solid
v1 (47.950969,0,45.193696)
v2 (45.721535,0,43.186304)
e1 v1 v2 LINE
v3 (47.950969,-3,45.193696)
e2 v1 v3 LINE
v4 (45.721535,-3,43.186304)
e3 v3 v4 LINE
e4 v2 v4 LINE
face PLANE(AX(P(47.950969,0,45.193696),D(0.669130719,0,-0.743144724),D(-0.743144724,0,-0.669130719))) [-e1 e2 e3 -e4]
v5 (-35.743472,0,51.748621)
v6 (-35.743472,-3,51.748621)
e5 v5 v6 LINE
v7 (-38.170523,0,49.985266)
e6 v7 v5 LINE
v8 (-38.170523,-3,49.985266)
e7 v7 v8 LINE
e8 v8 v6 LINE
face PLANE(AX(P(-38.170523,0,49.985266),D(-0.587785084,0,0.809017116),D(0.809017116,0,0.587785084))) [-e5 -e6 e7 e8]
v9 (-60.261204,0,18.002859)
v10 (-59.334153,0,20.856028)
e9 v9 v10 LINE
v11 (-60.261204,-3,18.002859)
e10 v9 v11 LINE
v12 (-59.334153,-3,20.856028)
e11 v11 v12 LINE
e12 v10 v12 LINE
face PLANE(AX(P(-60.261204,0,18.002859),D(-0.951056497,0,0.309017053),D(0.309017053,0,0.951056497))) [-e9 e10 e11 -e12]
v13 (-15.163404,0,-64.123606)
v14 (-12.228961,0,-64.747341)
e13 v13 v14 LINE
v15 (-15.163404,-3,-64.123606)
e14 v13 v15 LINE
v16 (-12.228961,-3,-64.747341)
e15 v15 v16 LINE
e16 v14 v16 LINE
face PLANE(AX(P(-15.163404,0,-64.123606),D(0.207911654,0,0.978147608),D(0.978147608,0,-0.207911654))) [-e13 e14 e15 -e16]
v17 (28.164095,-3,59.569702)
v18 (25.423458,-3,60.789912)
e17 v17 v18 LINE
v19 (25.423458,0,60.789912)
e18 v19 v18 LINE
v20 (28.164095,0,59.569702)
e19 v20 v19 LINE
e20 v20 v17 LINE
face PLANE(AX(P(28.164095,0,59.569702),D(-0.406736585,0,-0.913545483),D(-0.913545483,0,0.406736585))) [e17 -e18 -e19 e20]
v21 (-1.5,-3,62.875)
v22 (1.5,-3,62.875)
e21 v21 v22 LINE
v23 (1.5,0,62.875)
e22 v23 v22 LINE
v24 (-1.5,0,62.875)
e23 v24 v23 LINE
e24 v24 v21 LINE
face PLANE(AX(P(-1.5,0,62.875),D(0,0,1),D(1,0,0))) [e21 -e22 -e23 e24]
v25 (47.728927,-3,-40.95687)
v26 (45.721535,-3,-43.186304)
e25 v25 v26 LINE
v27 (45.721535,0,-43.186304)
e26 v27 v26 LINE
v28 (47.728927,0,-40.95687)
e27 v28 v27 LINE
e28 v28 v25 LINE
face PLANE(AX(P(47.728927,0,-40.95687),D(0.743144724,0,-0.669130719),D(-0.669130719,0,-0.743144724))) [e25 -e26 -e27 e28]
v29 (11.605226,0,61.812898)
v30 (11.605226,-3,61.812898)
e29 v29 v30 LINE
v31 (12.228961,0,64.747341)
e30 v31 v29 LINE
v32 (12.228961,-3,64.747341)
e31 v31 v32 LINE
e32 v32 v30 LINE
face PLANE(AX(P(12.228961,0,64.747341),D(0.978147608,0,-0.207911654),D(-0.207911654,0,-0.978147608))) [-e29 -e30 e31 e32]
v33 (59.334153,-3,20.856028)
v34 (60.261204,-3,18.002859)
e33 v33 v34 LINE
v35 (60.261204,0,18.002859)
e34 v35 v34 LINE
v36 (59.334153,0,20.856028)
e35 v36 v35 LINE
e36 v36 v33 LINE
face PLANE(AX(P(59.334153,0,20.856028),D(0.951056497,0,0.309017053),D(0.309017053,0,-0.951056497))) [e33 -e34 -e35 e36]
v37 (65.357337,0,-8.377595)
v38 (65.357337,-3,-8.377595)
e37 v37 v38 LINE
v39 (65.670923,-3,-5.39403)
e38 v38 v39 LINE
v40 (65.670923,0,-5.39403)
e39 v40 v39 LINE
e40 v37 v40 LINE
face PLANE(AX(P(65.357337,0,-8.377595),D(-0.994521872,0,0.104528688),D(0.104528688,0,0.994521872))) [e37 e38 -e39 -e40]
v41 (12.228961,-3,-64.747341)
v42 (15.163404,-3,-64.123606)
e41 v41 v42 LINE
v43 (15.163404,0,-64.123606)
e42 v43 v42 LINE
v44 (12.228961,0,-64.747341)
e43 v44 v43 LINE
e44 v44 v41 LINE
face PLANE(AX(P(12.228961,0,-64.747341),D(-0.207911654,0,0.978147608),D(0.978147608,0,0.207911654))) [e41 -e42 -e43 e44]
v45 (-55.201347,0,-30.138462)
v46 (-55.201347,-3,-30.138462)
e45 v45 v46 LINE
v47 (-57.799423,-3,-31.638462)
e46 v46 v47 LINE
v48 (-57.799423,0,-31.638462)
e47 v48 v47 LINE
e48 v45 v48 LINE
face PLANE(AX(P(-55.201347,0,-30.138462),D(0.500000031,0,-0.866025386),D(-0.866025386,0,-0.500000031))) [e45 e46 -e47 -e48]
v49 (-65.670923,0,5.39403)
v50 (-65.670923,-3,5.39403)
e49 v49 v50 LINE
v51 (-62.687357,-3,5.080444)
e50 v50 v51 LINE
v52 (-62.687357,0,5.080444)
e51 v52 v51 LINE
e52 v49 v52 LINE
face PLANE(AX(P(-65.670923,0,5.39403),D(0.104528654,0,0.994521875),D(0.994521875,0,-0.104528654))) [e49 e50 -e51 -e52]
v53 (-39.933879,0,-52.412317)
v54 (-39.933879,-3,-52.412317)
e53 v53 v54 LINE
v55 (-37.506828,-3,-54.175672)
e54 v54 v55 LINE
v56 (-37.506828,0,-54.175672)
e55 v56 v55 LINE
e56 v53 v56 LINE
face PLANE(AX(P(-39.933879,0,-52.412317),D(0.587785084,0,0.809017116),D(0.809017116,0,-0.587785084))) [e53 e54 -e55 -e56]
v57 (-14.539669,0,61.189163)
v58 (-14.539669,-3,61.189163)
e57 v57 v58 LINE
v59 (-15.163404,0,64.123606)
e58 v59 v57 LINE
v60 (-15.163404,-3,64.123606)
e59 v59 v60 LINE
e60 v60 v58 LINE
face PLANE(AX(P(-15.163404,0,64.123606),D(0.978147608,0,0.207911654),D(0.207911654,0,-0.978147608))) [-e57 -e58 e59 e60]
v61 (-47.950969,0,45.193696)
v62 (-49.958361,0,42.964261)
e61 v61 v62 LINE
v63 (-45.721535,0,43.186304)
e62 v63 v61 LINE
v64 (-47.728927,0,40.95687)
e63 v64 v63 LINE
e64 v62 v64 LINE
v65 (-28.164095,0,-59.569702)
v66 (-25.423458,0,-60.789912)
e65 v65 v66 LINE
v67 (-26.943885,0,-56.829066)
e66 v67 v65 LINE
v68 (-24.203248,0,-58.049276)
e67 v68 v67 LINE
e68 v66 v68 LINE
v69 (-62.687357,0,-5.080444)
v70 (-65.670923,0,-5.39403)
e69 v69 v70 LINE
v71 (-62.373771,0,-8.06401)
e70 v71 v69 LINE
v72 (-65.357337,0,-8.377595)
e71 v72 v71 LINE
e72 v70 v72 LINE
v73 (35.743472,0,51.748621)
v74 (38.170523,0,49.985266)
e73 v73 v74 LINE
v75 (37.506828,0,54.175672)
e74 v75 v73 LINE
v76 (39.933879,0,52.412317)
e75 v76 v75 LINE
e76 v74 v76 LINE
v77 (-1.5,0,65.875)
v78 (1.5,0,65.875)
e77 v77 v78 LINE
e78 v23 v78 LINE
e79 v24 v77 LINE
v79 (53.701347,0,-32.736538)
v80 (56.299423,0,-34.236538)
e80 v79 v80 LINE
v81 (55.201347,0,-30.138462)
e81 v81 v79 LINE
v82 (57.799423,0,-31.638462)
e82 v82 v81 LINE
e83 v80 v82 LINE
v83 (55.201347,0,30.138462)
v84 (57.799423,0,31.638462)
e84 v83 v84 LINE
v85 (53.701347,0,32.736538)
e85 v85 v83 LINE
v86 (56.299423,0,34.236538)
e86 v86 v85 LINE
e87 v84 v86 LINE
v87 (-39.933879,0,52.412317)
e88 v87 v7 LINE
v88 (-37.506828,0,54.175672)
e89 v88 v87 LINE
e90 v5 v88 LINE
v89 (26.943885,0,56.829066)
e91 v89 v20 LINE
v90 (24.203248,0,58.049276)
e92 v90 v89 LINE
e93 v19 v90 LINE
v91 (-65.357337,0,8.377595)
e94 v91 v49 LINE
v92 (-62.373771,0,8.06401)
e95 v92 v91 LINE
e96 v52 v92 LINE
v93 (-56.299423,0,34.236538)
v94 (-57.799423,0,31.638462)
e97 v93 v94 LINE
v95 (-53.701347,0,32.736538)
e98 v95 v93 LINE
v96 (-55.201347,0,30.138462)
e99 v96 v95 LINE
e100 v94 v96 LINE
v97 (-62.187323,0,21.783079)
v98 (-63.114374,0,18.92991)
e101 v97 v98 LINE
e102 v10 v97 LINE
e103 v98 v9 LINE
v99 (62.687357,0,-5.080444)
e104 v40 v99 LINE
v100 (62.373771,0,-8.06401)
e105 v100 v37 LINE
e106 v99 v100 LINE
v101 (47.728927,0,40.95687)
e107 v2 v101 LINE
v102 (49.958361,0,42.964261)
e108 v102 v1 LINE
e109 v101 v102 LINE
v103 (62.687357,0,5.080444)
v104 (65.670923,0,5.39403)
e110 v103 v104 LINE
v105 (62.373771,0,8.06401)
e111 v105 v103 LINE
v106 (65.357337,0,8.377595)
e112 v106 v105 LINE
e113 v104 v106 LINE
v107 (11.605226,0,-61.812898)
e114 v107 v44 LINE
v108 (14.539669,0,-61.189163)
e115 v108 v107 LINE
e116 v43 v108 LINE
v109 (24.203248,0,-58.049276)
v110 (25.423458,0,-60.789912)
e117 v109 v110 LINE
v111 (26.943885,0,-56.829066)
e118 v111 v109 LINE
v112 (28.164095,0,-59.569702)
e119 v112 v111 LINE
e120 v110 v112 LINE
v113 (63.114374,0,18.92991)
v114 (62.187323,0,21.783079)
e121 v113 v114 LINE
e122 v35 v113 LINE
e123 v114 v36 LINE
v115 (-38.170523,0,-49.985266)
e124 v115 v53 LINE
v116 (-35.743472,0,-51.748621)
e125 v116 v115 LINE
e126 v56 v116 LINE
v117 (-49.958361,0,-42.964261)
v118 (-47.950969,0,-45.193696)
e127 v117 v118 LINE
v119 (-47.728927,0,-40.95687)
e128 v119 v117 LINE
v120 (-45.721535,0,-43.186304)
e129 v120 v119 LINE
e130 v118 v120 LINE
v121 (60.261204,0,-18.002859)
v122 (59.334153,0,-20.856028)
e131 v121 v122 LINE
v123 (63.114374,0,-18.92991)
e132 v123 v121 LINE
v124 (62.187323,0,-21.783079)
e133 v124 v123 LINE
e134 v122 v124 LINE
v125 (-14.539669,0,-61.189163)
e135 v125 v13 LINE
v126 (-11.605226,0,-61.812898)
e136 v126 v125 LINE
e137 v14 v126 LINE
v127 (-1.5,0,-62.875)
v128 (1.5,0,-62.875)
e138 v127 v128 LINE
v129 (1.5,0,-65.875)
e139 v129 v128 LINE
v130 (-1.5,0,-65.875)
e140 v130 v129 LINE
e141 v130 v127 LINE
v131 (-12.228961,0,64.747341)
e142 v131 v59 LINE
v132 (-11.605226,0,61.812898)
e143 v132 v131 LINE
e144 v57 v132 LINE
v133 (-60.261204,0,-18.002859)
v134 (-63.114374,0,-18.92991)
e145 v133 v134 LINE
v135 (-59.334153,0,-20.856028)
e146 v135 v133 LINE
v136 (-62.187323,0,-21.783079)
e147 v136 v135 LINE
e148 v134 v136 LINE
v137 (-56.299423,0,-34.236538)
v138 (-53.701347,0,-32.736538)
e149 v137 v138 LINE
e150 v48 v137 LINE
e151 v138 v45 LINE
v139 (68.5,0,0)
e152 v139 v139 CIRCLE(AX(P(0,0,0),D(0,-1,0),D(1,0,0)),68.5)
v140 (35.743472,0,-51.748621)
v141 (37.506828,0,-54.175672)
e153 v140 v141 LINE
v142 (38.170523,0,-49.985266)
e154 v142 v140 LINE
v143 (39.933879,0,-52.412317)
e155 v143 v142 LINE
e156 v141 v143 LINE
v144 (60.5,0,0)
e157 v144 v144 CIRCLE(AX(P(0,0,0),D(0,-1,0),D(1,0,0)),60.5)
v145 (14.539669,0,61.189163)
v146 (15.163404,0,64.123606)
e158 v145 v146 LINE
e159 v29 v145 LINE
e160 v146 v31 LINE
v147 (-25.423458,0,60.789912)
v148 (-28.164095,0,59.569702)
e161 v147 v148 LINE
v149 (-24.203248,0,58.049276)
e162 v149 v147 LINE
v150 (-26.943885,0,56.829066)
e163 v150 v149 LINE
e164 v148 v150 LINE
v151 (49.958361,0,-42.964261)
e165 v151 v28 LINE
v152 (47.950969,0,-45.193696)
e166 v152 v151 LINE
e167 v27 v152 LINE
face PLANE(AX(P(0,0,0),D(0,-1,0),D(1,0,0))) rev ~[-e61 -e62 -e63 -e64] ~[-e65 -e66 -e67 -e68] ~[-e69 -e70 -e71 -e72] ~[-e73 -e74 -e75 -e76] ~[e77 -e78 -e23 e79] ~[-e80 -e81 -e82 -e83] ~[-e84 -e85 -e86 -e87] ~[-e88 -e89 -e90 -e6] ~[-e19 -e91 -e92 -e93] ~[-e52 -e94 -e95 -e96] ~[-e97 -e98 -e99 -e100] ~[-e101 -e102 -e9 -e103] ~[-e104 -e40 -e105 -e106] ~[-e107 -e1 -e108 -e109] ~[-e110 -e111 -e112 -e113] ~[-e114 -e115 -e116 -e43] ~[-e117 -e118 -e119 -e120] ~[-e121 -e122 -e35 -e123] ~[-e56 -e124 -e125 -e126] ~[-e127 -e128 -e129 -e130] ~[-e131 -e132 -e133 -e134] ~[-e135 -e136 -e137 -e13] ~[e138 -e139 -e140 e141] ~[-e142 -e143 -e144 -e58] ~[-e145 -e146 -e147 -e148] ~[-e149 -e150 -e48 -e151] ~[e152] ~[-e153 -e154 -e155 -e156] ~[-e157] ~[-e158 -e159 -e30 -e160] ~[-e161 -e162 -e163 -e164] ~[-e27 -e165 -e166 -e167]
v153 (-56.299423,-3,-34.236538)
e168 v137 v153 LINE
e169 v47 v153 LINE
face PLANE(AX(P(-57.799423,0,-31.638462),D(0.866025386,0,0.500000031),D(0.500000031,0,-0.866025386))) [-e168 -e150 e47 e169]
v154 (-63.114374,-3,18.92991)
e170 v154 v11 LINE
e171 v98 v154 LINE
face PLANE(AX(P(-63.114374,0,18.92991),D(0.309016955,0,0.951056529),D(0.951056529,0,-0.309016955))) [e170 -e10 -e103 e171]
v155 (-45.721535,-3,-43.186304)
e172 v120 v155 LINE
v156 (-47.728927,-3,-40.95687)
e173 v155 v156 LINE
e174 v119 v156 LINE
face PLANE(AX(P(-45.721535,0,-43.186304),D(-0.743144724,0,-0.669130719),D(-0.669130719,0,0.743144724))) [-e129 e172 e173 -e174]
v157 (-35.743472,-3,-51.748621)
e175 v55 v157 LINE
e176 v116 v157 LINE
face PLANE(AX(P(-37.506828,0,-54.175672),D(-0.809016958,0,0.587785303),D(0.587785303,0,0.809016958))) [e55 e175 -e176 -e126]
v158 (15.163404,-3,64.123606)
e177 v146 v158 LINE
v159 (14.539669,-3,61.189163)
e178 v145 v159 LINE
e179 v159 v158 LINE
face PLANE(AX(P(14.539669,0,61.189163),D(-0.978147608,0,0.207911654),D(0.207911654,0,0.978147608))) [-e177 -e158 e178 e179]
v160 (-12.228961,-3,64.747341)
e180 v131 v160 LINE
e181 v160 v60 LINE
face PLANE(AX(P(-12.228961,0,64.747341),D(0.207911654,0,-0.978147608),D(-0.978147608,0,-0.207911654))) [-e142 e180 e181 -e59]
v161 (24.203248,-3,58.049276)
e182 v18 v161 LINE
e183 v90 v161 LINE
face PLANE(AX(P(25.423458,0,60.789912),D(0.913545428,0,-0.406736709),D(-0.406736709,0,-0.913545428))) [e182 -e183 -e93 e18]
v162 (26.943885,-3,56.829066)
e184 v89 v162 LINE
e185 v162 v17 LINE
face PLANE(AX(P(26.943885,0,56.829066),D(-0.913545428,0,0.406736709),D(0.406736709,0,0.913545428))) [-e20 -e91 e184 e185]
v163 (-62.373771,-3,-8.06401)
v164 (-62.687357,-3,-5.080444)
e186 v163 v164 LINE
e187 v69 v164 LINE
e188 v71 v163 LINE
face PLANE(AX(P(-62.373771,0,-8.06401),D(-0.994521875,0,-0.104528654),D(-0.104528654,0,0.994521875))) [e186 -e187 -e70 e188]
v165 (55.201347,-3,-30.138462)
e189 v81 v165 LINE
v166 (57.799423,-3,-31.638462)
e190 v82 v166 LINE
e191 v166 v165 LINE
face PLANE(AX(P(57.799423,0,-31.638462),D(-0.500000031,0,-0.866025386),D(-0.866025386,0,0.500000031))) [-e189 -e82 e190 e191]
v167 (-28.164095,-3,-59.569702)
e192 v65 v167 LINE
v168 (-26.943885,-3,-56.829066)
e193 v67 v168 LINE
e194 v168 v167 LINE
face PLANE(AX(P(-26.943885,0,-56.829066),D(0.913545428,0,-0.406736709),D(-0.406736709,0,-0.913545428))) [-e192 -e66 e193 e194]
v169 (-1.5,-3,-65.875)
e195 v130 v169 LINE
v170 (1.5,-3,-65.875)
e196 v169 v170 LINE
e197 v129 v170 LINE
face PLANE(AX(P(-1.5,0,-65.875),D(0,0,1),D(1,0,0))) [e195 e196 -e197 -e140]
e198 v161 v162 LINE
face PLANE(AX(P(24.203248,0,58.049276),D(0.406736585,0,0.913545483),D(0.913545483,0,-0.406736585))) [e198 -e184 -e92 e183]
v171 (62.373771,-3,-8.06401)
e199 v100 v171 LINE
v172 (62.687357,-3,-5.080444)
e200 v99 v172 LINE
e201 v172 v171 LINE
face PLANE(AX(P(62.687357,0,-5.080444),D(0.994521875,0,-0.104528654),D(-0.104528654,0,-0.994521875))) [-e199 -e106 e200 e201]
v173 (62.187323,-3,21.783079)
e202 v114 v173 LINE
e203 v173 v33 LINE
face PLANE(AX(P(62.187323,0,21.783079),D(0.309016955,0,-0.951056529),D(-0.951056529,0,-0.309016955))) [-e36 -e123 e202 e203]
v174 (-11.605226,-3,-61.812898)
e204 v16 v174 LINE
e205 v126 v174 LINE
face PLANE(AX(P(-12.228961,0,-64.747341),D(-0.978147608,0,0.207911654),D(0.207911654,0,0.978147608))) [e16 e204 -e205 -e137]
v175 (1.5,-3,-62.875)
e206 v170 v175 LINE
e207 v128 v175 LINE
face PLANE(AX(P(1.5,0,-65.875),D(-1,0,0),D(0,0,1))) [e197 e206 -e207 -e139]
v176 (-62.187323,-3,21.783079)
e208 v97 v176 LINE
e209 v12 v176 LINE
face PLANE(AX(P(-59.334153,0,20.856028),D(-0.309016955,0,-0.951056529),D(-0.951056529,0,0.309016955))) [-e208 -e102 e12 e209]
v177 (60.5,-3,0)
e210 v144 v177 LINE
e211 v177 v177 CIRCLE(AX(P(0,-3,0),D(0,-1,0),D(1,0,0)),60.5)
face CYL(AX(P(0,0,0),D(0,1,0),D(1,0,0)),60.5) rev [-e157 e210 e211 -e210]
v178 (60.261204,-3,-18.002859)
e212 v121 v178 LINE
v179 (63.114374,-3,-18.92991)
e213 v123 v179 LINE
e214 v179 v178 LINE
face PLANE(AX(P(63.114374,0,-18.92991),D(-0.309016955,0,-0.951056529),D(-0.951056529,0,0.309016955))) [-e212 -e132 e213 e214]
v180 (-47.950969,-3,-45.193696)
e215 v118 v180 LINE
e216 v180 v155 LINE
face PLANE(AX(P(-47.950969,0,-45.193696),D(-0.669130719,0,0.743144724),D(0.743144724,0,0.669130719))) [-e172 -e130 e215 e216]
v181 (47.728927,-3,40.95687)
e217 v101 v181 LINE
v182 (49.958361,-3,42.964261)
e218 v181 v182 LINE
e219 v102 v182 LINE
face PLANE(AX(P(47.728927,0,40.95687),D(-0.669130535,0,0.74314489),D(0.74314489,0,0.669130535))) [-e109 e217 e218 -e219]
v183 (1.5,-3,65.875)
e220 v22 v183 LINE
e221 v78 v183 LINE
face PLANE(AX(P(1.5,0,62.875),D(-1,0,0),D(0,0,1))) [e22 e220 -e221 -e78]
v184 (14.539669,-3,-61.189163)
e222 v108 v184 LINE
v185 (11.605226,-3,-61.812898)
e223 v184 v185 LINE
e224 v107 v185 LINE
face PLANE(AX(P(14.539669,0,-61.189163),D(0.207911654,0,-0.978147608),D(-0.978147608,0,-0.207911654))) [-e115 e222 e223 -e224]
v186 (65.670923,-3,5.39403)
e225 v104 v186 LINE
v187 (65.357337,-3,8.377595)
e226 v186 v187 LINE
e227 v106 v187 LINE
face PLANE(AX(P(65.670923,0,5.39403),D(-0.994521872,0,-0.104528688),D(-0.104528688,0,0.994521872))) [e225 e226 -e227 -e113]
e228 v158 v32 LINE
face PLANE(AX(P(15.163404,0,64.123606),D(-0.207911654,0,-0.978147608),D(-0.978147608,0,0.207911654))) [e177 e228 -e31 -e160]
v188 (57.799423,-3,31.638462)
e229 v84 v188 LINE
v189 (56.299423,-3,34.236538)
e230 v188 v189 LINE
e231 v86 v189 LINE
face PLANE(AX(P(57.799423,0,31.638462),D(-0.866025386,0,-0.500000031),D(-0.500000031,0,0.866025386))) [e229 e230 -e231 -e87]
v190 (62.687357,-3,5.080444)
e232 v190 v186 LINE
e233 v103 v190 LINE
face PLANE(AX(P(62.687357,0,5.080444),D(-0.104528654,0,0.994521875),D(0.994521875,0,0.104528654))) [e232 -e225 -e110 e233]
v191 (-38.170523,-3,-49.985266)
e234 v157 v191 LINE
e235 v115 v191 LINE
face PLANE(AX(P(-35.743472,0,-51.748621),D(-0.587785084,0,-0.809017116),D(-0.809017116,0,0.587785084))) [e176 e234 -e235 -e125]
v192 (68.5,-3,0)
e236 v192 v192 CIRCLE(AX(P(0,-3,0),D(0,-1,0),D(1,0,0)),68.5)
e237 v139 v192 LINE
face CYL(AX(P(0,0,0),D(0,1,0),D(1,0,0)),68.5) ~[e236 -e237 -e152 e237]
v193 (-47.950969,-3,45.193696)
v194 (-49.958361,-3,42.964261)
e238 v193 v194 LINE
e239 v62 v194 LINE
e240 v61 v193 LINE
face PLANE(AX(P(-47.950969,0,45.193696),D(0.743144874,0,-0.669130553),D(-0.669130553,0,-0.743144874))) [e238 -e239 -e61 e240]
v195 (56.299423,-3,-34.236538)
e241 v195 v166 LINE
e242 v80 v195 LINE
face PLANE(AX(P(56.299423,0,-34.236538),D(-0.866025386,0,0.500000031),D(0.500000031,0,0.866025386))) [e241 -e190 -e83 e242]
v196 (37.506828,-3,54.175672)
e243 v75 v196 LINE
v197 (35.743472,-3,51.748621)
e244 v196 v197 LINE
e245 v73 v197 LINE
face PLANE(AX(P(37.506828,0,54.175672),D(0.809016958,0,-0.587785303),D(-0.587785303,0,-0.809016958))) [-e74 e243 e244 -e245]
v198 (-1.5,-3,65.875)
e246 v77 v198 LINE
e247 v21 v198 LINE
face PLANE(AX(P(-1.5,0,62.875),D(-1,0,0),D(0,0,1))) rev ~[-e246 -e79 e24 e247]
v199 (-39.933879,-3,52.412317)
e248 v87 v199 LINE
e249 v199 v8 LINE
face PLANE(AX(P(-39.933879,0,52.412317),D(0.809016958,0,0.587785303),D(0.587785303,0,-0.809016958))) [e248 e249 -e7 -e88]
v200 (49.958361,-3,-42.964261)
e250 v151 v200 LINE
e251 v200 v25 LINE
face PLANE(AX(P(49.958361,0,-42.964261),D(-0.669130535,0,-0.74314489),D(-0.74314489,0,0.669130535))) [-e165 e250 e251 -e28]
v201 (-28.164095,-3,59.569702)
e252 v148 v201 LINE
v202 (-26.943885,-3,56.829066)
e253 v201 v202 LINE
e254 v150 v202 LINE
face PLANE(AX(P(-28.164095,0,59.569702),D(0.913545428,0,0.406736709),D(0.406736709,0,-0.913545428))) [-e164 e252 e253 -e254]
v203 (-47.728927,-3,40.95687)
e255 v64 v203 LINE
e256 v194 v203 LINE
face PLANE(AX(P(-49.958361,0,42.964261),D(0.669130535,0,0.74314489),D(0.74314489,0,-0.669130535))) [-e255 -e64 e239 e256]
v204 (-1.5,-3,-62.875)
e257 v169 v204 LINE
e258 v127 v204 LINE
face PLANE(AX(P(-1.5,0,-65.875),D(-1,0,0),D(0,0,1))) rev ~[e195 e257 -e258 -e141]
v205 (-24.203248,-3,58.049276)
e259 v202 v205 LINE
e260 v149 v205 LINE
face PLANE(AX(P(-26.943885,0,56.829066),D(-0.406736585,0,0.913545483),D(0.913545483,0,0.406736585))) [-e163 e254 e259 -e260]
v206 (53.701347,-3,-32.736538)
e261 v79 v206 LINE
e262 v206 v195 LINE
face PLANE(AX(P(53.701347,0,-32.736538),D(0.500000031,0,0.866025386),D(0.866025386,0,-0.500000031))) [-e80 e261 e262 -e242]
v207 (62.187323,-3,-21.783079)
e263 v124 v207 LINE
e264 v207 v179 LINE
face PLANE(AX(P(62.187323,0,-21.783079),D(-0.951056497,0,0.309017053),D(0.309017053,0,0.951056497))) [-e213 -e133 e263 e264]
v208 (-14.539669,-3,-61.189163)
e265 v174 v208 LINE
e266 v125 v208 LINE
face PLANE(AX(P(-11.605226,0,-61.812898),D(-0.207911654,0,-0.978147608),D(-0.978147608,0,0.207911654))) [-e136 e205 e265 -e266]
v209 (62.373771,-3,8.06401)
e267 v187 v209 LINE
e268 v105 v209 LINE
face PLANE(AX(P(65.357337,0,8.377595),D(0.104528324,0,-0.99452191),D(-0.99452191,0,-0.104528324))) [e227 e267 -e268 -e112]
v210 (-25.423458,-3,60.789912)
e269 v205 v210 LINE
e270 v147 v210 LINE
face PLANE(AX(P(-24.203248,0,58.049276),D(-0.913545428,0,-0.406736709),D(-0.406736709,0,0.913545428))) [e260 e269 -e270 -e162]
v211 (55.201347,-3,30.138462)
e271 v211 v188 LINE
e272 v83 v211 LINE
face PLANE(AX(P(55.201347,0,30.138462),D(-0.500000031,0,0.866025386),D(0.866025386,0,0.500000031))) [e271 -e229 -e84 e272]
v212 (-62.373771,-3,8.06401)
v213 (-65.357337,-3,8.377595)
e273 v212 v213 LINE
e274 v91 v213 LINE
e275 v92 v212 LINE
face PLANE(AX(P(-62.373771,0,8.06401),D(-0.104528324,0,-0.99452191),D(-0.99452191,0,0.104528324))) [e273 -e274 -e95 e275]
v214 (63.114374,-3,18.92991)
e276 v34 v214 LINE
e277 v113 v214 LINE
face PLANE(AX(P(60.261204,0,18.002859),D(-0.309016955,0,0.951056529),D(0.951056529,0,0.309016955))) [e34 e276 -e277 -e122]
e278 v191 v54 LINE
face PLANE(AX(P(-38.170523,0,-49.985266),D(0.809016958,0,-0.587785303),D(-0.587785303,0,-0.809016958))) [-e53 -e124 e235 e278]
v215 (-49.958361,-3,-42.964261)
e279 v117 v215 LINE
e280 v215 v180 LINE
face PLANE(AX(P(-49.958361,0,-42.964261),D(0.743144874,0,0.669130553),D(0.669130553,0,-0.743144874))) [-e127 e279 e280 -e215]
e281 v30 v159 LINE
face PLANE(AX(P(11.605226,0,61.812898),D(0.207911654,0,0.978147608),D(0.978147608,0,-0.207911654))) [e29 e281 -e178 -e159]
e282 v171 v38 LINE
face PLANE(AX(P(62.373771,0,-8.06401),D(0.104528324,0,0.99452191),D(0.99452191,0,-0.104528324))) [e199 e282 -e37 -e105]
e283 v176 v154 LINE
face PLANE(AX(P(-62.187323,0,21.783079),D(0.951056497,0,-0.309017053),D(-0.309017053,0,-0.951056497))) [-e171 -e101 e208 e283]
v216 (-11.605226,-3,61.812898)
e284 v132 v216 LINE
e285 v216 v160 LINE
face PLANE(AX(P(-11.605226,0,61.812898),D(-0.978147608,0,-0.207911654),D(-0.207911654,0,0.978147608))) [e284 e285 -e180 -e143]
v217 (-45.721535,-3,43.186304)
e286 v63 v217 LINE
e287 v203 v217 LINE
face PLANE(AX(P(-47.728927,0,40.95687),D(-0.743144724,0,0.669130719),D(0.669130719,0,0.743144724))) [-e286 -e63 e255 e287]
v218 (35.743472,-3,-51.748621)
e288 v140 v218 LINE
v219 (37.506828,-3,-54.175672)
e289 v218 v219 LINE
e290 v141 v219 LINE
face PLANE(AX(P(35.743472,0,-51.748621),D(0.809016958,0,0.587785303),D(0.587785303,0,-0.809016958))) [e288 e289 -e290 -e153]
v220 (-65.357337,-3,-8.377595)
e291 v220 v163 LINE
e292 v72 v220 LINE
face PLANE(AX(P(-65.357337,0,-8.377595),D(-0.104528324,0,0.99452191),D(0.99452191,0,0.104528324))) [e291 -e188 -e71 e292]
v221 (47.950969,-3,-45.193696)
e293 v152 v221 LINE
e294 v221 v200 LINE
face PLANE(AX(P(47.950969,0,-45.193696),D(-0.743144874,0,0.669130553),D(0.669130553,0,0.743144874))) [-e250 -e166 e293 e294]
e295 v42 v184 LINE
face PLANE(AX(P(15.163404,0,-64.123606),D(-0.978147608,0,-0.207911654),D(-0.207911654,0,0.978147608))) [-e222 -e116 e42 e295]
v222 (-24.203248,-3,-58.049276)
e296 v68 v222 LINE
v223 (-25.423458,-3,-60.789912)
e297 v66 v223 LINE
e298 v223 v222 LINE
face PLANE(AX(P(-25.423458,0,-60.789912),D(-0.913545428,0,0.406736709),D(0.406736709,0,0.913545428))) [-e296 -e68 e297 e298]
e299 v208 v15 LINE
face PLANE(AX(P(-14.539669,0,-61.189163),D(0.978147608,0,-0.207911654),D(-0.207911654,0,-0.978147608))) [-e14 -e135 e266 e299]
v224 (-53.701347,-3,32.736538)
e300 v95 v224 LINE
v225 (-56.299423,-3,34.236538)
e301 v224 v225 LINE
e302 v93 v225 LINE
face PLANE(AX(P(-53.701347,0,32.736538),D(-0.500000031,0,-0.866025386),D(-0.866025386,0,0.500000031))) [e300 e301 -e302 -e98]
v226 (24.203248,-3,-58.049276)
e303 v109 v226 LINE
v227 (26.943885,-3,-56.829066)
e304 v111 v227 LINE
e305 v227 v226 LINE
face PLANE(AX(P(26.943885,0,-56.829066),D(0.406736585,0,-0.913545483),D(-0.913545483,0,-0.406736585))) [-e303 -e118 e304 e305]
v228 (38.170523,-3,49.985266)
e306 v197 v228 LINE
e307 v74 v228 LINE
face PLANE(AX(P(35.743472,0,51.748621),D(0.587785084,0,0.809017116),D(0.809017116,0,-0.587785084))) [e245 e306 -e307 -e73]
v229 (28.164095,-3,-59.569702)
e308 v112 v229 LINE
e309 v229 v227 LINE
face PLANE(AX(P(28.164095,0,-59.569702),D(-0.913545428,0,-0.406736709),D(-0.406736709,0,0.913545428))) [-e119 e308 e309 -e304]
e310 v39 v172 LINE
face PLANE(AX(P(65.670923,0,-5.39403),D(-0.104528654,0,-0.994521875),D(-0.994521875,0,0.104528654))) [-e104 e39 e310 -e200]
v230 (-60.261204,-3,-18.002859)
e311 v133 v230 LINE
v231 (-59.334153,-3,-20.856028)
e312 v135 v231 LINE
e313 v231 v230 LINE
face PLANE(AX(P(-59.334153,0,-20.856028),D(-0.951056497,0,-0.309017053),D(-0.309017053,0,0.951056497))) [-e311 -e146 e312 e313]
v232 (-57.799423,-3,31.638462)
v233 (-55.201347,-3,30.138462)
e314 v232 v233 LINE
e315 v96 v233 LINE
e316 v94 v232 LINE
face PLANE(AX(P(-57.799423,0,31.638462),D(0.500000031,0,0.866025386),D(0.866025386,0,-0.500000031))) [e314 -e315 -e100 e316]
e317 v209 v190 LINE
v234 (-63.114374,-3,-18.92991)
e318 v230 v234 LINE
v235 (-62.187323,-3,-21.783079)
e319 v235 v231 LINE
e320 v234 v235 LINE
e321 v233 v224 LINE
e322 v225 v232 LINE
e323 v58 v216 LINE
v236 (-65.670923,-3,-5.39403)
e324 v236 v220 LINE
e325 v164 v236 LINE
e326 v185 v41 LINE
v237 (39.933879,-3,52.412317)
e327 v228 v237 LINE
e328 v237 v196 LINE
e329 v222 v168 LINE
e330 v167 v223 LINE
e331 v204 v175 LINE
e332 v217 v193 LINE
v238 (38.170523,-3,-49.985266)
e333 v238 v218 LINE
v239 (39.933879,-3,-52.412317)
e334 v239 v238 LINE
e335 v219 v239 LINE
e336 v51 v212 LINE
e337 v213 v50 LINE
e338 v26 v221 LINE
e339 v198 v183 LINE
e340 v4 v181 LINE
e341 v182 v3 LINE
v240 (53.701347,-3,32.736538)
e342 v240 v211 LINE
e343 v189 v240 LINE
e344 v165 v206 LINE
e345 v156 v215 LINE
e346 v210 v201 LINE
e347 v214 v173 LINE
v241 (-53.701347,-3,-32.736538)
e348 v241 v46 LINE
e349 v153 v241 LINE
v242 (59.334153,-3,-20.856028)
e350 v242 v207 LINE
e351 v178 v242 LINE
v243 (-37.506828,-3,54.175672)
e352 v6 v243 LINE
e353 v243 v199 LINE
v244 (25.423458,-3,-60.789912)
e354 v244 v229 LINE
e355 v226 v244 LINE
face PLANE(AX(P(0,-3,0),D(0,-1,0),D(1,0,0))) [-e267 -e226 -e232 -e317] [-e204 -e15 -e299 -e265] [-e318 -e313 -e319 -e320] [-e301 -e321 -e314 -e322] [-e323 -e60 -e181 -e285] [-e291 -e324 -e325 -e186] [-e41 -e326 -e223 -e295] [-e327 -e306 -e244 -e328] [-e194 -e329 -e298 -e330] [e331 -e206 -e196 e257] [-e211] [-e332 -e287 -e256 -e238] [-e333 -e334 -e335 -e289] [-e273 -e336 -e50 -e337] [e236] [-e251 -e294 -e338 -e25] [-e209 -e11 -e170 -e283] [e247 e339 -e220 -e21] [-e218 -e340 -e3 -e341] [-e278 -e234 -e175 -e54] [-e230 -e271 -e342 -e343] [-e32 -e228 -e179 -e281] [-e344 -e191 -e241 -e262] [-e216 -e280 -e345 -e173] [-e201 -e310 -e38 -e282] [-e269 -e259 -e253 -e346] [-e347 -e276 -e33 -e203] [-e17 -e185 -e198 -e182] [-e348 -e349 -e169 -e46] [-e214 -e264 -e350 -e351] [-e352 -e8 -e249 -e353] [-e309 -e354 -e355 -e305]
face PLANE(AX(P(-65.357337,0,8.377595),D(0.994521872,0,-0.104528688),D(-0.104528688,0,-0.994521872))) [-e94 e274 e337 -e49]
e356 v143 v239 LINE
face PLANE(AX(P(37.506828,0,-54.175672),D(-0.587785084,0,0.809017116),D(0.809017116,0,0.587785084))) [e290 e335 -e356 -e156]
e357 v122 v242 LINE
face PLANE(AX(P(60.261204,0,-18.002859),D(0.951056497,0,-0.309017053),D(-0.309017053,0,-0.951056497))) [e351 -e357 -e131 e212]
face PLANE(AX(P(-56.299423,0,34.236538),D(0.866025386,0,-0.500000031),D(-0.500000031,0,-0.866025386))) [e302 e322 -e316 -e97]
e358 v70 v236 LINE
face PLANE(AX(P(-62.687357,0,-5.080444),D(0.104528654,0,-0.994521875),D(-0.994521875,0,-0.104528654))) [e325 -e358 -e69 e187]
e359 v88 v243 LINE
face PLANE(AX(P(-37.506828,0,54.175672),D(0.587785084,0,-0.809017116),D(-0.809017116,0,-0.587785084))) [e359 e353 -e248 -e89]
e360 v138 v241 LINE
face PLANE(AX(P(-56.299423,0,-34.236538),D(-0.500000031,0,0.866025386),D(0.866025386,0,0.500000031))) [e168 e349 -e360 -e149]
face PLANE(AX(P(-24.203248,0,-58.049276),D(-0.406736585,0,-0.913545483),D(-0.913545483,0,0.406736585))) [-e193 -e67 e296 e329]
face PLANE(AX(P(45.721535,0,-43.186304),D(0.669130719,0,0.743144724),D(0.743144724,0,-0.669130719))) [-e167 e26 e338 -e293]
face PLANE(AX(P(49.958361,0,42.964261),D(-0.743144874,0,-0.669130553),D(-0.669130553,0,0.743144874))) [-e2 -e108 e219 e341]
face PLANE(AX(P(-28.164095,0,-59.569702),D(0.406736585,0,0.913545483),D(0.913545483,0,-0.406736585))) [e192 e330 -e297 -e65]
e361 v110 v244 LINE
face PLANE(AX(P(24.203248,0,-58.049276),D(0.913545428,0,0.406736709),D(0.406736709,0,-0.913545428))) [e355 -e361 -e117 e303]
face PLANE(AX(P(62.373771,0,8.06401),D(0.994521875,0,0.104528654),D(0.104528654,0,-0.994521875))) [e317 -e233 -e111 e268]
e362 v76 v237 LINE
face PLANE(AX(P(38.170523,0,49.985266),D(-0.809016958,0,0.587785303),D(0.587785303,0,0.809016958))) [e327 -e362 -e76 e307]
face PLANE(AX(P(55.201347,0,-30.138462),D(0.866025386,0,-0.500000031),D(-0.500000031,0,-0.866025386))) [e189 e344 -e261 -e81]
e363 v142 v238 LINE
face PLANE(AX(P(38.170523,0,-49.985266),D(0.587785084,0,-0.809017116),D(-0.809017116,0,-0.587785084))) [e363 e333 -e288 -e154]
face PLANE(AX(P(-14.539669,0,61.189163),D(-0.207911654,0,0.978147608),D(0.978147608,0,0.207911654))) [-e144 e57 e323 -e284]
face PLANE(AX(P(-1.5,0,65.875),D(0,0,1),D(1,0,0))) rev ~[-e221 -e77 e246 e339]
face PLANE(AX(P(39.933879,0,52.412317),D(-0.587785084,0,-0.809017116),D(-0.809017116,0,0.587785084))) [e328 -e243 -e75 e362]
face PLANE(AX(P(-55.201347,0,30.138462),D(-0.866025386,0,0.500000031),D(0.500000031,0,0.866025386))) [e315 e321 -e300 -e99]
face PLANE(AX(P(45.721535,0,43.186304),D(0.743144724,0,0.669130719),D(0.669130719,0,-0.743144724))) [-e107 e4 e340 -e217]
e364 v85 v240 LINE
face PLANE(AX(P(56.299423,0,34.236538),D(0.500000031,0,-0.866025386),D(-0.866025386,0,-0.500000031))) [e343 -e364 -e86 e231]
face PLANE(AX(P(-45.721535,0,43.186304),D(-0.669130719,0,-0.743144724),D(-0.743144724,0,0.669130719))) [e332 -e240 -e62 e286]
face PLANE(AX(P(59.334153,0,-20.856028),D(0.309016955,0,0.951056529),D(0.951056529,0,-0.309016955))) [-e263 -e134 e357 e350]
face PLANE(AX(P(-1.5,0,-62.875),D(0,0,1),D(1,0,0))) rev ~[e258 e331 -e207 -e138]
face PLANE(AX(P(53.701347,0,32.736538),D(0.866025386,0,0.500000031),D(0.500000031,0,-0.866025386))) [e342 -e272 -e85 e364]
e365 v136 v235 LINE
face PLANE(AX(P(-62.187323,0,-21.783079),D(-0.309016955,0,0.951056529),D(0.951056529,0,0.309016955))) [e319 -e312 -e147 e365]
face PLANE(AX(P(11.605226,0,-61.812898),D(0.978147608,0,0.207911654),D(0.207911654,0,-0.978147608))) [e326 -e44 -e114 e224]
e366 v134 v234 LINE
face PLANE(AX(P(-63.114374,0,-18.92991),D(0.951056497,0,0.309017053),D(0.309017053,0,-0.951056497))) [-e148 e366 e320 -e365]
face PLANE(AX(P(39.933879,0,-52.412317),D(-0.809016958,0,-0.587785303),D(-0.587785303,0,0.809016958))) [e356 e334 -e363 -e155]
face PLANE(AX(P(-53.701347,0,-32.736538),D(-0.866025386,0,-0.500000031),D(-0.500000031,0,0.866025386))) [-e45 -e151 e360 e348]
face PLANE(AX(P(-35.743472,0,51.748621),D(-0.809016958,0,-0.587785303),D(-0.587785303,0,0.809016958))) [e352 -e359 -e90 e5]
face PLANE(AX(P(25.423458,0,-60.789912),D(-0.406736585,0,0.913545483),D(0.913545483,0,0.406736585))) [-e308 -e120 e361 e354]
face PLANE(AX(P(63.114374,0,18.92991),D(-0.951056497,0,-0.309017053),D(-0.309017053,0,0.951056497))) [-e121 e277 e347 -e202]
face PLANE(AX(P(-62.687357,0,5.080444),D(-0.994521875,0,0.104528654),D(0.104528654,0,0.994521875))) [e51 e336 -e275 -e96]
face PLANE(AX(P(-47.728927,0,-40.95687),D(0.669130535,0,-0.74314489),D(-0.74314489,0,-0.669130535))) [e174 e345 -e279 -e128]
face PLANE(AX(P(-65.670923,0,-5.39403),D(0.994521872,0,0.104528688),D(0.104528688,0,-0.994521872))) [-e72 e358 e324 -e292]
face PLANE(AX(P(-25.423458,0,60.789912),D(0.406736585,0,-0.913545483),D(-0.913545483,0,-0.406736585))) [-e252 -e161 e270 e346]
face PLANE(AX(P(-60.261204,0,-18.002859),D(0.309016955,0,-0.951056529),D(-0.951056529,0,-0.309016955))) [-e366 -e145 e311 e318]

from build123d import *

# Parameters (mm, degrees)
F0_R     = 68.5
F0_R_2   = 60.5
F1_DEPTH = 3
F2_W     = 3
F2_H     = 3
F3_DEPTH = 3


with BuildPart() as f1:
    # F0 (on Front) → F1 (new body)
    with BuildSketch(Plane.XZ):
        Circle(F0_R)
        Circle(F0_R_2, mode=Mode.SUBTRACT)
    extrude(amount=F1_DEPTH)

    # F2 (on Front) → F3 (cut)
    with BuildSketch(Plane.XZ):
        with Locations((0, 64.375)):
            Rectangle(F2_W, F2_H)
        Polygon((-12.228961, 64.747341), (-15.163404, 64.123606), (-14.539669, 61.189163), (-11.605226, 61.812898), align=None)
        Polygon((-25.423458, 60.789912), (-28.164095, 59.569702), (-26.943885, 56.829066), (-24.203248, 58.049276), align=None)
        Polygon((-35.743472, 51.748621), (-37.506828, 54.175672), (-39.933879, 52.412317), (-38.170523, 49.985266), align=None)
        Polygon((-45.721535, 43.186304), (-47.950969, 45.193696), (-49.958361, 42.964261), (-47.728927, 40.95687), align=None)
        Polygon((-53.701347, 32.736538), (-56.299423, 34.236538), (-57.799423, 31.638462), (-55.201347, 30.138462), align=None)
        Polygon((-59.334153, 20.856028), (-62.187323, 21.783079), (-63.114374, 18.92991), (-60.261204, 18.002859), align=None)
        Polygon((-62.373771, 8.06401), (-65.357337, 8.377595), (-65.670923, 5.39403), (-62.687357, 5.080444), align=None)
        Polygon((-62.687357, -5.080444), (-65.670923, -5.39403), (-65.357337, -8.377595), (-62.373771, -8.06401), align=None)
        Polygon((-60.261204, -18.002859), (-63.114374, -18.92991), (-62.187323, -21.783079), (-59.334153, -20.856028), align=None)
        Polygon((-55.201347, -30.138462), (-57.799423, -31.638462), (-56.299423, -34.236538), (-53.701347, -32.736538), align=None)
        Polygon((-47.728927, -40.95687), (-49.958361, -42.964261), (-47.950969, -45.193696), (-45.721535, -43.186304), align=None)
        Polygon((-38.170523, -49.985266), (-39.933879, -52.412317), (-37.506828, -54.175672), (-35.743472, -51.748621), align=None)
        Polygon((-26.943885, -56.829066), (-28.164095, -59.569702), (-25.423458, -60.789912), (-24.203248, -58.049276), align=None)
        Polygon((-14.539669, -61.189163), (-15.163404, -64.123606), (-12.228961, -64.747341), (-11.605226, -61.812898), align=None)
        with Locations((0, -64.375)):
            Rectangle(F2_W, F2_H)
        Polygon((11.605226, -61.812898), (12.228961, -64.747341), (15.163404, -64.123606), (14.539669, -61.189163), align=None)
        Polygon((24.203248, -58.049276), (25.423458, -60.789912), (28.164095, -59.569702), (26.943885, -56.829066), align=None)
        Polygon((35.743472, -51.748621), (37.506828, -54.175672), (39.933879, -52.412317), (38.170523, -49.985266), align=None)
        Polygon((45.721535, -43.186304), (47.950969, -45.193696), (49.958361, -42.964261), (47.728927, -40.95687), align=None)
        Polygon((53.701347, -32.736538), (56.299423, -34.236538), (57.799423, -31.638462), (55.201347, -30.138462), align=None)
        Polygon((59.334153, -20.856028), (62.187323, -21.783079), (63.114374, -18.92991), (60.261204, -18.002859), align=None)
        Polygon((62.373771, -8.06401), (65.357337, -8.377595), (65.670923, -5.39403), (62.687357, -5.080444), align=None)
        Polygon((62.687357, 5.080444), (65.670923, 5.39403), (65.357337, 8.377595), (62.373771, 8.06401), align=None)
        Polygon((60.261204, 18.002859), (63.114374, 18.92991), (62.187323, 21.783079), (59.334153, 20.856028), align=None)
        Polygon((55.201347, 30.138462), (57.799423, 31.638462), (56.299423, 34.236538), (53.701347, 32.736538), align=None)
        Polygon((47.728927, 40.95687), (49.958361, 42.964261), (47.950969, 45.193696), (45.721535, 43.186304), align=None)
        Polygon((38.170523, 49.985266), (39.933879, 52.412317), (37.506828, 54.175672), (35.743472, 51.748621), align=None)
        Polygon((26.943885, 56.829066), (28.164095, 59.569702), (25.423458, 60.789912), (24.203248, 58.049276), align=None)
        Polygon((14.539669, 61.189163), (15.163404, 64.123606), (12.228961, 64.747341), (11.605226, 61.812898), align=None)
    extrude(amount=F3_DEPTH, mode=Mode.SUBTRACT)


solid = f1.part
